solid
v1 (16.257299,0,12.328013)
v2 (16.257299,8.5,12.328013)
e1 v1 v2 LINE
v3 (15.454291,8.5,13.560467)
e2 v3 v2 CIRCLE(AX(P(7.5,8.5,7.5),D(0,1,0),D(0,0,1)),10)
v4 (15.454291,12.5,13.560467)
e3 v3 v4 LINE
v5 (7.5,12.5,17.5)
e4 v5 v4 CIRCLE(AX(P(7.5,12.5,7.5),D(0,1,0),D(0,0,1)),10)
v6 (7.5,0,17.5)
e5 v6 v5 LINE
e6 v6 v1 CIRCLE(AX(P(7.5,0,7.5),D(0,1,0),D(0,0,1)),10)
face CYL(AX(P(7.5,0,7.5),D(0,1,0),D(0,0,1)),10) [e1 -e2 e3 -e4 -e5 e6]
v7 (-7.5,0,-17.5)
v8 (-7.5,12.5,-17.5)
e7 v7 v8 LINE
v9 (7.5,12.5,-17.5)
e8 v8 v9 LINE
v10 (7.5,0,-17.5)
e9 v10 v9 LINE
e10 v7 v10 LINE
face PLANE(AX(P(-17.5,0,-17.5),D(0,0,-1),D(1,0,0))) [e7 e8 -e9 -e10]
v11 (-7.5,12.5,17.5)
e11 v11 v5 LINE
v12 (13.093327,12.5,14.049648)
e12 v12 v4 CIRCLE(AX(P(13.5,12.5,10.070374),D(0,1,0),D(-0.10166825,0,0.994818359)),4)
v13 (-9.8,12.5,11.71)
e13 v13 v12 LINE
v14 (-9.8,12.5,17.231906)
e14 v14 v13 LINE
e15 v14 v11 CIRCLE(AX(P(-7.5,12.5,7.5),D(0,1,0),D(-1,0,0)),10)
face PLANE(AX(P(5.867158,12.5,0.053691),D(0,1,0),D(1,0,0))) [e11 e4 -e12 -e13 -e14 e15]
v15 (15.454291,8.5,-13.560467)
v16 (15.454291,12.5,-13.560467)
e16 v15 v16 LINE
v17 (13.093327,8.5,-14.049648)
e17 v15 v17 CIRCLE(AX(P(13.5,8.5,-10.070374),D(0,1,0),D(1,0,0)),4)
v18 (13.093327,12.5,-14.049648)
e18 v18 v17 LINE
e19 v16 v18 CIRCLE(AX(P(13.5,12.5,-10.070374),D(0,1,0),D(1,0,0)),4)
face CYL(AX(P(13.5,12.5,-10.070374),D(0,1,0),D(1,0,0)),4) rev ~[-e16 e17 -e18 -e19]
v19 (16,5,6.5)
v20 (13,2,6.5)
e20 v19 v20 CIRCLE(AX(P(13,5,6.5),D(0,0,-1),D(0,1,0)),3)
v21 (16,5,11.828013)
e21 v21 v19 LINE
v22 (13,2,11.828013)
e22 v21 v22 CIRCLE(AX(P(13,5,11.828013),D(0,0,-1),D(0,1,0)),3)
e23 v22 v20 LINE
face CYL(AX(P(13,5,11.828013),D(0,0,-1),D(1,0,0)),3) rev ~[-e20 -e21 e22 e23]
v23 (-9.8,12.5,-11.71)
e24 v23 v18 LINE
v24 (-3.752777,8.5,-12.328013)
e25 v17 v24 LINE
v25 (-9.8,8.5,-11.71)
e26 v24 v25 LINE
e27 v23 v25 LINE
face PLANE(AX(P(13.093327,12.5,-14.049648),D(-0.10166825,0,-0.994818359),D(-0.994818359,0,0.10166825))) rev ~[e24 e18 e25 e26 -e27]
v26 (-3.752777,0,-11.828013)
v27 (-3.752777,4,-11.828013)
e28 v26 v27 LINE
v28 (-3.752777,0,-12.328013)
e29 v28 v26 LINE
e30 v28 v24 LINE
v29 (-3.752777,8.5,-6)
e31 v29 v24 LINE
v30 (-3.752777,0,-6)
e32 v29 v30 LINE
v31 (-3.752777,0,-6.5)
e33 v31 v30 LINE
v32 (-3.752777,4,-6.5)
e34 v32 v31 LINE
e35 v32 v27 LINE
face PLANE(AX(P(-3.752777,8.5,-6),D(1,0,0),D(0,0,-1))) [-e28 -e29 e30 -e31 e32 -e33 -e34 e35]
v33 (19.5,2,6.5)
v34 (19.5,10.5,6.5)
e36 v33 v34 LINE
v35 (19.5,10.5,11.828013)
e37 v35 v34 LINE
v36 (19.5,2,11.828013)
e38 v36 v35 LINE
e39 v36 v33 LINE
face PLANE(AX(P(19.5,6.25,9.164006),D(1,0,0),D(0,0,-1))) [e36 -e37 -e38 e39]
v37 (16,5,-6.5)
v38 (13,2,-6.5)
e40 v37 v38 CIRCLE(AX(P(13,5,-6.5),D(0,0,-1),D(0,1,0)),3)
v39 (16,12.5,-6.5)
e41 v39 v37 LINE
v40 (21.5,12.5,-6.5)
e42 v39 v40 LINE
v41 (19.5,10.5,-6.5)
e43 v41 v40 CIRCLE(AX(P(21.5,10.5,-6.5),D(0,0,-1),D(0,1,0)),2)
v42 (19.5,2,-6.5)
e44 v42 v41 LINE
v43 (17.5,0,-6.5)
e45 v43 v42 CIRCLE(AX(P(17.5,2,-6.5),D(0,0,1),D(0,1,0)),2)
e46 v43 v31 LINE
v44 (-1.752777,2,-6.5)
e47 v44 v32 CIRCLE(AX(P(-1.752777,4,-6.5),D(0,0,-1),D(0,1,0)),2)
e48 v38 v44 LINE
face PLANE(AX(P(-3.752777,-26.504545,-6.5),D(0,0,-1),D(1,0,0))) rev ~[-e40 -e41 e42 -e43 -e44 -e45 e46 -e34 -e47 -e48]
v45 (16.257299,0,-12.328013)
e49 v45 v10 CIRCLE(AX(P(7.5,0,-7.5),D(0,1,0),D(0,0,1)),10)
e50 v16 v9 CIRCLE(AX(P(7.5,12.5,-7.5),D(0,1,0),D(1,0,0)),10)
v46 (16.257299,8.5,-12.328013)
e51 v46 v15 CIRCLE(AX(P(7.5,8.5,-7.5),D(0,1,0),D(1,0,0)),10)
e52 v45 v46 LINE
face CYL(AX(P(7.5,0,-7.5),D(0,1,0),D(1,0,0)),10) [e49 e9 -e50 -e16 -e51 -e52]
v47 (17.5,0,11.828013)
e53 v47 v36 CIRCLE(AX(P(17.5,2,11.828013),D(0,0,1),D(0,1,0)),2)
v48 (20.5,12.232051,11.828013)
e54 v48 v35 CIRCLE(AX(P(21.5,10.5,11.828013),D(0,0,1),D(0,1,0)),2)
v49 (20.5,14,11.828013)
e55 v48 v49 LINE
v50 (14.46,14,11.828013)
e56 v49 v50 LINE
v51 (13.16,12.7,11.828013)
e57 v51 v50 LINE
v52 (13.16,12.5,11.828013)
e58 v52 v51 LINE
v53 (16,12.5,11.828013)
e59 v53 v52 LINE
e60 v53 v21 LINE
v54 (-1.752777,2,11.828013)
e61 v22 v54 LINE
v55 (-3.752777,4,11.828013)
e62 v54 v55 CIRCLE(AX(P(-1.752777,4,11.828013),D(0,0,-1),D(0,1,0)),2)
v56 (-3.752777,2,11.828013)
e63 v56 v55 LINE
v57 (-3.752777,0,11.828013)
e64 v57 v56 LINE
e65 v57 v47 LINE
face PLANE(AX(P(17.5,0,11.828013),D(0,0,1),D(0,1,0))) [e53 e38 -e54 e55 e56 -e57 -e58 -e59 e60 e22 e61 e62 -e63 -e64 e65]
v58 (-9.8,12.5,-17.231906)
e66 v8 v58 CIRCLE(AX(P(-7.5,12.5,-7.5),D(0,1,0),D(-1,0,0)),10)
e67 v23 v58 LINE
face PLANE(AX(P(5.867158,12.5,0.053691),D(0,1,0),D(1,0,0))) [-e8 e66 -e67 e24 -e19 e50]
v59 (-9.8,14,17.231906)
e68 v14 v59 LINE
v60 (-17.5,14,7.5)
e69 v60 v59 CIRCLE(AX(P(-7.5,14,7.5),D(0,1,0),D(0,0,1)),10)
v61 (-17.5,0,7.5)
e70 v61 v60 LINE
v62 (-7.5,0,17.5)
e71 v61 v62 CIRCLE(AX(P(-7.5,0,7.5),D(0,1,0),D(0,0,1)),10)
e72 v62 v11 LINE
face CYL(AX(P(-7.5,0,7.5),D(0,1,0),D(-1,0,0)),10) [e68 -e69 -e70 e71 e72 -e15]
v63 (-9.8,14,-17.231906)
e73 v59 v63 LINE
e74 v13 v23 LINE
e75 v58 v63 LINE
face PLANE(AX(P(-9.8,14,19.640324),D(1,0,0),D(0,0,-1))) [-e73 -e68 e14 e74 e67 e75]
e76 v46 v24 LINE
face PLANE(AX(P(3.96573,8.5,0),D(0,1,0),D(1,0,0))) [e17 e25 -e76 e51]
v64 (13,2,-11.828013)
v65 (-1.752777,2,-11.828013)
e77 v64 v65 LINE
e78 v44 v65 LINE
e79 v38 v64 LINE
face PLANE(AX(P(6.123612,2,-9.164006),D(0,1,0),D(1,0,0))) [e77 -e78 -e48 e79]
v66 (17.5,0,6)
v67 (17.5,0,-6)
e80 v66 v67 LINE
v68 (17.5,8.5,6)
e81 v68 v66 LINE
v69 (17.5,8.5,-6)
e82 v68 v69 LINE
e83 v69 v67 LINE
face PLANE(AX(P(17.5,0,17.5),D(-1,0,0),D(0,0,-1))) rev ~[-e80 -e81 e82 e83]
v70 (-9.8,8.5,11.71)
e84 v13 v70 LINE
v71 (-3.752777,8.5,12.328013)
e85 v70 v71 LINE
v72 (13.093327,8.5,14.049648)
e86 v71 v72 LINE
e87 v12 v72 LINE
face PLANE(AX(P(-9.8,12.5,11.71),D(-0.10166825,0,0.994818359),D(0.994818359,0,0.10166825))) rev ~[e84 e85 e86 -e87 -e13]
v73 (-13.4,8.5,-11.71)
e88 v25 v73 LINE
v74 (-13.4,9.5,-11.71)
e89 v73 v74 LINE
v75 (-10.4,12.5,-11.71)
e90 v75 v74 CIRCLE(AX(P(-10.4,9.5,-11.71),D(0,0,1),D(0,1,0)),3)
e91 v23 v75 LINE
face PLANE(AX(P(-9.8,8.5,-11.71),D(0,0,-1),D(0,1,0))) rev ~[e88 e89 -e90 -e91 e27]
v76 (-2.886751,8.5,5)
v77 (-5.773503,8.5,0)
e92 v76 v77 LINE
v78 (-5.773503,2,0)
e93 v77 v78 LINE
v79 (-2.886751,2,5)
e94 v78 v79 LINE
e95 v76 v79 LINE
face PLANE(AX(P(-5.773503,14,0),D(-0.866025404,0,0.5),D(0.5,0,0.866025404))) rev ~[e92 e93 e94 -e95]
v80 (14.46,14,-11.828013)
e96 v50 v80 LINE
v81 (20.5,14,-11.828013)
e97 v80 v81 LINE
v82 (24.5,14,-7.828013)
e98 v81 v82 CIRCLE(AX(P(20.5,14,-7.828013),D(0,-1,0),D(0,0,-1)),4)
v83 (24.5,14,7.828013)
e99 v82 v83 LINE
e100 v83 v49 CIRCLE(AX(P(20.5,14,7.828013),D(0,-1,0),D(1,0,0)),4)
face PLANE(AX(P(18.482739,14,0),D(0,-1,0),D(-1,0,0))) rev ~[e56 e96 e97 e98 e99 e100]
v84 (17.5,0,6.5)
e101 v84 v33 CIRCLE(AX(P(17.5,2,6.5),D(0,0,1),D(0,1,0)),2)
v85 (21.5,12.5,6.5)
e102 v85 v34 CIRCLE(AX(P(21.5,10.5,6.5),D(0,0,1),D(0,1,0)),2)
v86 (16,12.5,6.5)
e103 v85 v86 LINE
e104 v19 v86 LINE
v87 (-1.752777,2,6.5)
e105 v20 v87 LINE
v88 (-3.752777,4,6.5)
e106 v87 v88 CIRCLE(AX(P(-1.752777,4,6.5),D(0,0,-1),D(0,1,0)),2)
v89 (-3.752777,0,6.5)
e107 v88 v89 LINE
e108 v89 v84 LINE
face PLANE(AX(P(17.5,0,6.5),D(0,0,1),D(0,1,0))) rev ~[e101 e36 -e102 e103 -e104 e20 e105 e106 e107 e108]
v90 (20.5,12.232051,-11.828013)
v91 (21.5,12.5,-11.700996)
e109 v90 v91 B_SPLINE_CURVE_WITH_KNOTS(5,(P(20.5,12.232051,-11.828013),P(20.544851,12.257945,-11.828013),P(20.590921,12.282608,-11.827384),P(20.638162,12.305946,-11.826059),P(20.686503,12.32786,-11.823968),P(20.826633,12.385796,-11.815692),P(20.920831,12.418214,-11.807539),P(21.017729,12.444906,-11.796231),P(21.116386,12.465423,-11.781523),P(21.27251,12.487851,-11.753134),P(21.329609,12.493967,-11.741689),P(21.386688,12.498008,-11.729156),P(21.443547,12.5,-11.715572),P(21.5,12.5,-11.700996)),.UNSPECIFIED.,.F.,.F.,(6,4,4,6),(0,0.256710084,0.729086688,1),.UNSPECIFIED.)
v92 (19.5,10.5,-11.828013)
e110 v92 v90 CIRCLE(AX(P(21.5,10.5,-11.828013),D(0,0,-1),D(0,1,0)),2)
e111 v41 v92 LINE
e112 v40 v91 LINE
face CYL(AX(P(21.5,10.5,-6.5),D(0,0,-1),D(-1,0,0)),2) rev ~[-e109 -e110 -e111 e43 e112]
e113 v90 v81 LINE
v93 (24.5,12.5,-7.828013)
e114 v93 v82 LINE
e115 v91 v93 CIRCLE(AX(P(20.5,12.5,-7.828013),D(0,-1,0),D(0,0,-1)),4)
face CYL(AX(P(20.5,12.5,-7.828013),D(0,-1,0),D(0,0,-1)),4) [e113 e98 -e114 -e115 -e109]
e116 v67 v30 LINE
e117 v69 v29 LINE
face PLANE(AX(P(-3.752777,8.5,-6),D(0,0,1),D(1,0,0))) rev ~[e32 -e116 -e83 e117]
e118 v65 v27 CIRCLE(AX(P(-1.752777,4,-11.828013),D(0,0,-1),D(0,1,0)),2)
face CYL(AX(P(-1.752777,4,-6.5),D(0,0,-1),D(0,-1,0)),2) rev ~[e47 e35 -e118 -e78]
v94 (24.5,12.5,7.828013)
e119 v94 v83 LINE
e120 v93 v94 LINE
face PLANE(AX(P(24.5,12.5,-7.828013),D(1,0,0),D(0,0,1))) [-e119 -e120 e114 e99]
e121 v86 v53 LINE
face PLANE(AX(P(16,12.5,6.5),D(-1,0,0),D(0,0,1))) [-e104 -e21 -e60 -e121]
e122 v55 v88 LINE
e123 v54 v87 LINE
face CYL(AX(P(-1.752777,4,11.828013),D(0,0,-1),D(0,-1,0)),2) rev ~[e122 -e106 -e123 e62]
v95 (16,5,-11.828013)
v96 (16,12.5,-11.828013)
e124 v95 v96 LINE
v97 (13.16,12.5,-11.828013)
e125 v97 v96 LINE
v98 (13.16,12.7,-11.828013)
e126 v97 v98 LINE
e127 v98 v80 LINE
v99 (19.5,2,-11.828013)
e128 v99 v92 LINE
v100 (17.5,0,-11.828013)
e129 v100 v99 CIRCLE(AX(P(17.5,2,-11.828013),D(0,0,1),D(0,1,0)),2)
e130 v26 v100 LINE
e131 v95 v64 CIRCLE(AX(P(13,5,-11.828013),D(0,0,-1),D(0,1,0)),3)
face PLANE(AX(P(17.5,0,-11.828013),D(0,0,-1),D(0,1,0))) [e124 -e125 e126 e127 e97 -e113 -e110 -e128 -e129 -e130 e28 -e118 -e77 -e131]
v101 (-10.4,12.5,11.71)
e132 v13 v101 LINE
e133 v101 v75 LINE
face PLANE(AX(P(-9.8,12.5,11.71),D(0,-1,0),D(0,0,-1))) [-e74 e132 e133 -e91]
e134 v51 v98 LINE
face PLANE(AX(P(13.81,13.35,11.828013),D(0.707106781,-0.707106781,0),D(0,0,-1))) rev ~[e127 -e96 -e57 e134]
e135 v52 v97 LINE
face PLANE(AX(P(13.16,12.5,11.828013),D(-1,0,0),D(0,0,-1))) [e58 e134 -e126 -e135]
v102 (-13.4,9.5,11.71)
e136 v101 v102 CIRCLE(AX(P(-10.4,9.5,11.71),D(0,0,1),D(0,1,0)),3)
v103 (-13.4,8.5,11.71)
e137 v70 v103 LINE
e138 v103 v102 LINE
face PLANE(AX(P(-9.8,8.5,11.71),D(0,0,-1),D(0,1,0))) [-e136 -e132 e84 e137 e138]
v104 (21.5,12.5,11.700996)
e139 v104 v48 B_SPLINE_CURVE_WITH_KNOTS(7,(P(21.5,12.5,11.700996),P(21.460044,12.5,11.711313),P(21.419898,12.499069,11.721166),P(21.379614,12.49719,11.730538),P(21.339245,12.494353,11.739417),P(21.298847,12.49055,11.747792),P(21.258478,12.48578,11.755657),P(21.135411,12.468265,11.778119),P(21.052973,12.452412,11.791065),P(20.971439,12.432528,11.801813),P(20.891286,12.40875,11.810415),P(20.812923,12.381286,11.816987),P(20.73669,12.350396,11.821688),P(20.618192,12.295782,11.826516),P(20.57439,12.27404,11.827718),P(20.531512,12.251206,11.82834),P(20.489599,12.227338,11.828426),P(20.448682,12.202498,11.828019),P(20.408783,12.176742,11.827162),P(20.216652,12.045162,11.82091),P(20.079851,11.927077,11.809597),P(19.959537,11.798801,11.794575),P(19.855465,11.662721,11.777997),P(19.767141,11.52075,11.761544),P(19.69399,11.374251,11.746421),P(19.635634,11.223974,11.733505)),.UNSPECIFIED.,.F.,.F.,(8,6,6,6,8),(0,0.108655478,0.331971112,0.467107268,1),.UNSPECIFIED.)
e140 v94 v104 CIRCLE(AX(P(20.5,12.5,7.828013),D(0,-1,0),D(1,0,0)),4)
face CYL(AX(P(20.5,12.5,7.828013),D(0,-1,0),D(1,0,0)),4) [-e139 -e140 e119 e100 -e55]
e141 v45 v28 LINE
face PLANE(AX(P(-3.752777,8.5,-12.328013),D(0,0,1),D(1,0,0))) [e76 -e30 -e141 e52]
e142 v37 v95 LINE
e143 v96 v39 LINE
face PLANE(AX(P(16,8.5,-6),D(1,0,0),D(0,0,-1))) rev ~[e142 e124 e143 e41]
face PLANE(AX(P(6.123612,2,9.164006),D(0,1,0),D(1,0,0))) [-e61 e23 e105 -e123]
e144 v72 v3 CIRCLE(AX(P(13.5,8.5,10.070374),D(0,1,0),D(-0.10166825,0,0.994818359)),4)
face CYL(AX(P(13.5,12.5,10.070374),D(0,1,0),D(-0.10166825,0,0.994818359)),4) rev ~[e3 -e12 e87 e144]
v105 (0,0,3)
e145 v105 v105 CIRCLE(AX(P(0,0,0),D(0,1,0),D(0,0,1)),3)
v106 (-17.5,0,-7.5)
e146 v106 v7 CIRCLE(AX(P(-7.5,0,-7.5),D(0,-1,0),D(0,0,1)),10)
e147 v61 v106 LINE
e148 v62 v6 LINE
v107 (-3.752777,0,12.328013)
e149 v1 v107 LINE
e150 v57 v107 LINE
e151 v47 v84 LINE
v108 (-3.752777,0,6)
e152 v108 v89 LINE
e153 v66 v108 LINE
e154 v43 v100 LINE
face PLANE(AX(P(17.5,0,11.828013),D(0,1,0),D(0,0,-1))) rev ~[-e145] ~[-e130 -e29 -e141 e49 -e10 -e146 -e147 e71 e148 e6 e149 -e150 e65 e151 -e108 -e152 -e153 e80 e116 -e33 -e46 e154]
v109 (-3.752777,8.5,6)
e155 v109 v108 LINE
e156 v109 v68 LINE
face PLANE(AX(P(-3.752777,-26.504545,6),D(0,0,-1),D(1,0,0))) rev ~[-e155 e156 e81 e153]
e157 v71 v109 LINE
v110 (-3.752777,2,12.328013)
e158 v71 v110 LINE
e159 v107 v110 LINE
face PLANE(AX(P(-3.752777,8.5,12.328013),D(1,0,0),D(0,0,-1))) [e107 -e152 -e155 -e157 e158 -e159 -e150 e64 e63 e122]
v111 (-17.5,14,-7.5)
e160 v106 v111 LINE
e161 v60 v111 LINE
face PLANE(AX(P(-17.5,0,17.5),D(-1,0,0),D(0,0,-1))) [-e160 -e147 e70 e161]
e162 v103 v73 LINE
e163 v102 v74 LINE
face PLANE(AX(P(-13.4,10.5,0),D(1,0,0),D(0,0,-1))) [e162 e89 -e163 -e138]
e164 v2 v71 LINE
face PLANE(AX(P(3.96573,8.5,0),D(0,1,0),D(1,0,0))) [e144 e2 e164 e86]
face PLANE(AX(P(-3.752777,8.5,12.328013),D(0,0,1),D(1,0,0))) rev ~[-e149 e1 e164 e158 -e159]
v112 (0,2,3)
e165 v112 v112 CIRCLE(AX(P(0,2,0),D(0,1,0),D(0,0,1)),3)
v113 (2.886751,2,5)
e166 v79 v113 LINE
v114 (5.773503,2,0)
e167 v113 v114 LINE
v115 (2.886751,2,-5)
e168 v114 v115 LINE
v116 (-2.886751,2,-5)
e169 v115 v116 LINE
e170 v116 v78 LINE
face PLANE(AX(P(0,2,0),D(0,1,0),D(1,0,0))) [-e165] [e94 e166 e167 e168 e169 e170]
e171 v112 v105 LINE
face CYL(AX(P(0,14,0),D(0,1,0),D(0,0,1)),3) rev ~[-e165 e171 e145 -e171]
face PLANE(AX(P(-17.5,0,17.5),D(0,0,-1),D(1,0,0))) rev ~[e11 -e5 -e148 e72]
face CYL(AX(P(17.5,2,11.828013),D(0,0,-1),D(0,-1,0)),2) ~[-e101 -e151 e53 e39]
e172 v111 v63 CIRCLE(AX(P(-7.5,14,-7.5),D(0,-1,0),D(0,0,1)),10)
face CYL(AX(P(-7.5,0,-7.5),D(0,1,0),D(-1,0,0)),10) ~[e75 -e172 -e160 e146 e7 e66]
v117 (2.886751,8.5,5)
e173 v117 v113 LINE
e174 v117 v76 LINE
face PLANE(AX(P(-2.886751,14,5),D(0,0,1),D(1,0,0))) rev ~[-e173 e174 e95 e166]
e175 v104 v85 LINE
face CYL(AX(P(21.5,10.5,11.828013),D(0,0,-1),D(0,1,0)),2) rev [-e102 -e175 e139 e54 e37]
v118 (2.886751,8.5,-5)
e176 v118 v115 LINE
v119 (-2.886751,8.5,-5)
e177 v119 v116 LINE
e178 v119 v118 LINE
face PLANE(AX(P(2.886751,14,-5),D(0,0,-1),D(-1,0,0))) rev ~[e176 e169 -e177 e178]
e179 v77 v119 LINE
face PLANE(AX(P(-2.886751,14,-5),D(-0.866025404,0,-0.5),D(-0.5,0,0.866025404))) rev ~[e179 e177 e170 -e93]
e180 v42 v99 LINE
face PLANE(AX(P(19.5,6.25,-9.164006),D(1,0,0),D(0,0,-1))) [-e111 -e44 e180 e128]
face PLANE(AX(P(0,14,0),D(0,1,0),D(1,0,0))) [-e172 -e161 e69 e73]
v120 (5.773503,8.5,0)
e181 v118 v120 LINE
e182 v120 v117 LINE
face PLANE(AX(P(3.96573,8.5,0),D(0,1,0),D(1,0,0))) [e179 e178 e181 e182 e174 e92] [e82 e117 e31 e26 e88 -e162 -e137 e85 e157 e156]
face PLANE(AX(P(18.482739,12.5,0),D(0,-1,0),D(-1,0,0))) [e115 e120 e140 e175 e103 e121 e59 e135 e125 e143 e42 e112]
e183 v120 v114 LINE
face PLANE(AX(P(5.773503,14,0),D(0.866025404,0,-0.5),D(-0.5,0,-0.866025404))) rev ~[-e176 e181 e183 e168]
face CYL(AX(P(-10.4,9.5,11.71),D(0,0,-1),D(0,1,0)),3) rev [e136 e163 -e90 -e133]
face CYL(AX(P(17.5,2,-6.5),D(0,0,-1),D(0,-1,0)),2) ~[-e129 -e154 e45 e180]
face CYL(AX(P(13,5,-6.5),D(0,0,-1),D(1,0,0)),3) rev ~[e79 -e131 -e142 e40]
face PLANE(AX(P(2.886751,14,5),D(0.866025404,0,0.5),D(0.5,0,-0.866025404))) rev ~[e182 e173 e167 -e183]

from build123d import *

# Parameters (mm, degrees)
ESQUISSE1_W                    = 35
ESQUISSE1_H                    = 35
BOSS_EXTRU_1_DEPTH             = 14
CONG_1_R                       = 10
ESQUISSE2_R                    = 3
ENL_V_MAT_EXTRU_1_DEPTH        = 29.434134416
ENL_V_MAT_EXTRU_2_DEPTH        = 12
ESQUISSE4_W                    = 31.334316994
ESQUISSE4_H                    = 39.173265385
ENL_V_MAT_EXTRU_3_DEPTH        = 1.5
ENL_V_MAT_EXTRU_4_DEPTH        = 4
ESQUISSE6_W                    = 23.42
ESQUISSE6_H                    = 4
ENL_V_MAT_EXTRU_5_DEPTH        = 3.6
CONG_2_R                       = 3
ESQUISSE7_W                    = 19.75277675
ESQUISSE7_H                    = 6.328012926
ENL_V_MAT_EXTRU_6_DEPTH        = 6.5
ENL_V_MAT_EXTRU_7_DEPTH        = 28.504545079
ENL_V_MAT_EXTRU_7_DEPTH_BACK   = 28.504545079
ESQUISSE8_W                    = 25.702062378
ESQUISSE8_H                    = 0.5
ESQUISSE8_W_2                  = 29.01148979
ESQUISSE8_W_3                  = 33.519235733
BOSS_EXTRU_2_START             = 4
BOSS_EXTRU_2_DEPTH             = 4
BOSS_EXTRU_3_DEPTH             = 1.5
CHANFREIN1_SIZE                = 1.3
CONG_3_R                       = 3
BOSS_EXTRU_4_REACH             = 43.56
ESQUISSE11_W                   = 5.328012926
ESQUISSE11_H                   = 12.5
BOSS_EXTRU_4_DIRECTION_2_DEPTH = 2
CONG_4_R                       = 2
CONG_5_R                       = 2


with BuildPart() as part:
    # Esquisse1 → Boss.-Extru.1 (new body)
    with BuildSketch(Plane(origin=(0, 0, 0), x_dir=(1, 0, 0), z_dir=(0, 1, 0))):
        Rectangle(ESQUISSE1_W, ESQUISSE1_H)
    extrude(amount=BOSS_EXTRU_1_DEPTH)

    # Congé1
    cong_1_edges = [part.edges().sort_by_distance(p)[0] for p in [
        (17.5, 7, 17.5),
        (-17.5, 7, 17.5),
        (-17.5, 7, -17.5),
        (17.5, 7, -17.5),
    ]]
    fillet(cong_1_edges, radius=CONG_1_R)

    # Esquisse2 → Enlèv. mat.-Extru.1 (cut, through all)
    with BuildSketch(Plane(origin=(0, 14, 0), x_dir=(1, 0, 0), z_dir=(0, 1, 0))):
        with Locations(Location((0, 0, 0), (0, 0, 270))):
            Circle(ESQUISSE2_R)
    extrude(amount=-ENL_V_MAT_EXTRU_1_DEPTH, mode=Mode.SUBTRACT)

    # Esquisse3 → Enlèv. mat.-Extru.2 (cut)
    with BuildSketch(Plane(origin=(0, 14, 0), x_dir=(1, 0, 0), z_dir=(0, 1, 0))):
        Polygon((5.773502692, 0), (2.886751346, 5), (-2.886751346, 5), (-5.773502692, 0), (-2.886751346, -5), (2.886751346, -5), align=None)
    extrude(amount=-ENL_V_MAT_EXTRU_2_DEPTH, mode=Mode.SUBTRACT)

    # Esquisse4 → Enlèv. mat.-Extru.3 (cut)
    with BuildSketch(Plane(origin=(0, 14, 0), x_dir=(1, 0, 0), z_dir=(0, 1, 0))):
        with Locations((5.867158497, -0.053691428)):
            Rectangle(ESQUISSE4_W, ESQUISSE4_H)
    extrude(amount=-ENL_V_MAT_EXTRU_3_DEPTH, mode=Mode.SUBTRACT)

    # Esquisse5 → Enlèv. mat.-Extru.4 (cut)
    with BuildSketch(Plane(origin=(0, 12.5, 0), x_dir=(1, 0, 0), z_dir=(0, 1, 0))):
        with BuildLine():
            Line((-9.8, 11.71), (-9.8, -11.71))
            Line((-9.8, -11.71), (13.093327001, -14.049647704))
            ThreePointArc((13.093327001, -14.049647704), (16.180793539, -13.03910228), (17.5, -10.070374269))
            Line((17.5, -10.070374269), (17.5, 10.070374269))
            ThreePointArc((17.5, 10.070374269), (16.180793539, 13.03910228), (13.093327001, 14.049647704))
            Line((13.093327001, 14.049647704), (-9.8, 11.71))
        make_face()
    extrude(amount=-ENL_V_MAT_EXTRU_4_DEPTH, mode=Mode.SUBTRACT)

    # Esquisse6 → Enlèv. mat.-Extru.5 (cut)
    with BuildSketch(Plane(origin=(-9.8, 0, 0), x_dir=(0, 0, -1), z_dir=(1, 0, 0))):
        with Locations((0, 10.5)):
            Rectangle(ESQUISSE6_W, ESQUISSE6_H)
    extrude(amount=-ENL_V_MAT_EXTRU_5_DEPTH, mode=Mode.SUBTRACT)

    # Congé2
    cong_2_edges = [part.edges().sort_by_distance(p)[0] for p in [
        (-13.4, 12.5, 0),
    ]]
    fillet(cong_2_edges, radius=CONG_2_R)

    # Esquisse7 → Enlèv. mat.-Extru.6 (cut)
    with BuildSketch(Plane(origin=(0, 8.5, 0), x_dir=(1, 0, 0), z_dir=(0, 1, 0))):
        with Locations((6.123611625, -9.164006463)):
            Rectangle(ESQUISSE7_W, ESQUISSE7_H)
        with Locations((6.123611625, 9.164006463)):
            Rectangle(ESQUISSE7_W, ESQUISSE7_H)
    extrude(amount=-ENL_V_MAT_EXTRU_6_DEPTH, mode=Mode.SUBTRACT)

    # Esquisse8 → Enlèv. mat.-Extru.7 (cut, two sides: drawn at the far end of the back side and taken through both)
    with BuildSketch(Plane(origin=(0, 2, 0), x_dir=(1, 0, 0), z_dir=(0, 1, 0)).offset(-ENL_V_MAT_EXTRU_7_DEPTH_BACK)):
        with Locations((9.098254439, 6.25)):
            Rectangle(ESQUISSE8_W, ESQUISSE8_H)
        with Locations((9.098254439, 12.078012926)):
            Rectangle(ESQUISSE8_W, ESQUISSE8_H)
        with Locations((10.752968145, -6.25)):
            Rectangle(ESQUISSE8_W_2, ESQUISSE8_H)
        with Locations((13.006841117, -12.078012926)):
            Rectangle(ESQUISSE8_W_3, ESQUISSE8_H)
    extrude(amount=ENL_V_MAT_EXTRU_7_DEPTH + ENL_V_MAT_EXTRU_7_DEPTH_BACK, mode=Mode.SUBTRACT)

    # Esquisse9 → Boss.-Extru.2 (add)
    with BuildSketch(Plane(origin=(0, 8.5, 0), x_dir=(1, 0, 0), z_dir=(0, 1, 0)).offset(BOSS_EXTRU_2_START)):
        with BuildLine():
            Line((17.5, -7.5), (17.5, -6.5))
            Line((17.5, -6.5), (16, -6.5))
            Line((16, -6.5), (16, -11.828012926))
            Line((16, -11.828012926), (16.514893461, -11.828012926))
            ThreePointArc((16.514893461, -11.828012926), (17.250613689, -9.719354116), (17.5, -7.5))
        make_face()
        with BuildLine():
            Line((17.5, 6.5), (17.5, 7.5))
            ThreePointArc((17.5, 7.5), (17.250613689, 9.719354116), (16.514893461, 11.828012926))
            Line((16.514893461, 11.828012926), (16, 11.828012926))
            Line((16, 11.828012926), (16, 6.5))
            Line((16, 6.5), (17.5, 6.5))
        make_face()
    extrude(amount=-BOSS_EXTRU_2_DEPTH)

    # Esquisse10 → Boss.-Extru.3 (add)
    with BuildSketch(Plane(origin=(0, 12.5, 0), x_dir=(1, 0, 0), z_dir=(0, 1, 0))):
        with BuildLine():
            Line((13.16, 11.828012926), (20.5, 11.828012926))
            ThreePointArc((20.5, 11.828012926), (23.328427125, 10.65644005), (24.5, 7.828012926))
            Line((24.5, 7.828012926), (24.5, -7.828012926))
            ThreePointArc((24.5, -7.828012926), (23.328427125, -10.65644005), (20.5, -11.828012926))
            Line((20.5, -11.828012926), (13.16, -11.828012926))
            Line((13.16, -11.828012926), (13.16, 11.828012926))
        make_face()
    extrude(amount=BOSS_EXTRU_3_DEPTH)

    # Chanfrein1
    chanfrein1_edges = [part.edges().sort_by_distance(p)[0] for p in [
        (13.16, 14, 0),
    ]]
    chamfer(chanfrein1_edges, length=CHANFREIN1_SIZE)

    # Congé3
    cong_3_edges = [part.edges().sort_by_distance(p)[0] for p in [
        (16, 2, 9.164006463),
        (16, 2, -9.164006463),
    ]]
    fillet(cong_3_edges, radius=CONG_3_R)

    # Esquisse11 → Boss.-Extru.4 (add, up to next)
    with BuildSketch(Plane(origin=(17.5, 0, 0), x_dir=(0, 0, -1), z_dir=(1, 0, 0)), mode=Mode.PRIVATE) as boss_extru_4_sk1:
        with Locations((-9.164006463, 6.25)):
            Rectangle(ESQUISSE11_W, ESQUISSE11_H)
    boss_extru_4_tool1 = extrude(boss_extru_4_sk1.sketch, amount=-BOSS_EXTRU_4_REACH, mode=Mode.PRIVATE) - part.part
    # Esquisse11 → Boss.-Extru.4 (add, up to next)
    with BuildSketch(Plane(origin=(17.5, 0, 0), x_dir=(0, 0, -1), z_dir=(1, 0, 0)), mode=Mode.PRIVATE) as boss_extru_4_sk2:
        with Locations((9.164006463, 6.25)):
            Rectangle(ESQUISSE11_W, ESQUISSE11_H)
    boss_extru_4_tool2 = extrude(boss_extru_4_sk2.sketch, amount=-BOSS_EXTRU_4_REACH, mode=Mode.PRIVATE) - part.part
    add(boss_extru_4_tool1.solids().sort_by_distance((17.5, 6.25, 9.164006))[0])
    add(boss_extru_4_tool2.solids().sort_by_distance((17.5, 6.25, -9.164006))[0])

    # Esquisse11 → Boss.-Extru.4 direction 2 (add)
    with BuildSketch(Plane(origin=(17.5, 0, 0), x_dir=(0, 0, -1), z_dir=(1, 0, 0))):
        with Locations((-9.164006463, 6.25)):
            Rectangle(ESQUISSE11_W, ESQUISSE11_H)
        with Locations((9.164006463, 6.25)):
            Rectangle(ESQUISSE11_W, ESQUISSE11_H)
    extrude(amount=BOSS_EXTRU_4_DIRECTION_2_DEPTH)

    # Congé4
    cong_4_edges = [part.edges().sort_by_distance(p)[0] for p in [
        (19.5, 12.5, -9.164006463),
        (19.5, 12.5, 9.164006463),
        (19.5, 0, -9.164006463),
        (19.5, 0, 9.164006463),
    ]]
    fillet(cong_4_edges, radius=CONG_4_R)

    # Congé5
    cong_5_edges = [part.edges().sort_by_distance(p)[0] for p in [
        (-3.75277675, 2, 9.164006463),
        (-3.75277675, 2, -9.164006463),
    ]]
    fillet(cong_5_edges, radius=CONG_5_R)


solid = part.part
